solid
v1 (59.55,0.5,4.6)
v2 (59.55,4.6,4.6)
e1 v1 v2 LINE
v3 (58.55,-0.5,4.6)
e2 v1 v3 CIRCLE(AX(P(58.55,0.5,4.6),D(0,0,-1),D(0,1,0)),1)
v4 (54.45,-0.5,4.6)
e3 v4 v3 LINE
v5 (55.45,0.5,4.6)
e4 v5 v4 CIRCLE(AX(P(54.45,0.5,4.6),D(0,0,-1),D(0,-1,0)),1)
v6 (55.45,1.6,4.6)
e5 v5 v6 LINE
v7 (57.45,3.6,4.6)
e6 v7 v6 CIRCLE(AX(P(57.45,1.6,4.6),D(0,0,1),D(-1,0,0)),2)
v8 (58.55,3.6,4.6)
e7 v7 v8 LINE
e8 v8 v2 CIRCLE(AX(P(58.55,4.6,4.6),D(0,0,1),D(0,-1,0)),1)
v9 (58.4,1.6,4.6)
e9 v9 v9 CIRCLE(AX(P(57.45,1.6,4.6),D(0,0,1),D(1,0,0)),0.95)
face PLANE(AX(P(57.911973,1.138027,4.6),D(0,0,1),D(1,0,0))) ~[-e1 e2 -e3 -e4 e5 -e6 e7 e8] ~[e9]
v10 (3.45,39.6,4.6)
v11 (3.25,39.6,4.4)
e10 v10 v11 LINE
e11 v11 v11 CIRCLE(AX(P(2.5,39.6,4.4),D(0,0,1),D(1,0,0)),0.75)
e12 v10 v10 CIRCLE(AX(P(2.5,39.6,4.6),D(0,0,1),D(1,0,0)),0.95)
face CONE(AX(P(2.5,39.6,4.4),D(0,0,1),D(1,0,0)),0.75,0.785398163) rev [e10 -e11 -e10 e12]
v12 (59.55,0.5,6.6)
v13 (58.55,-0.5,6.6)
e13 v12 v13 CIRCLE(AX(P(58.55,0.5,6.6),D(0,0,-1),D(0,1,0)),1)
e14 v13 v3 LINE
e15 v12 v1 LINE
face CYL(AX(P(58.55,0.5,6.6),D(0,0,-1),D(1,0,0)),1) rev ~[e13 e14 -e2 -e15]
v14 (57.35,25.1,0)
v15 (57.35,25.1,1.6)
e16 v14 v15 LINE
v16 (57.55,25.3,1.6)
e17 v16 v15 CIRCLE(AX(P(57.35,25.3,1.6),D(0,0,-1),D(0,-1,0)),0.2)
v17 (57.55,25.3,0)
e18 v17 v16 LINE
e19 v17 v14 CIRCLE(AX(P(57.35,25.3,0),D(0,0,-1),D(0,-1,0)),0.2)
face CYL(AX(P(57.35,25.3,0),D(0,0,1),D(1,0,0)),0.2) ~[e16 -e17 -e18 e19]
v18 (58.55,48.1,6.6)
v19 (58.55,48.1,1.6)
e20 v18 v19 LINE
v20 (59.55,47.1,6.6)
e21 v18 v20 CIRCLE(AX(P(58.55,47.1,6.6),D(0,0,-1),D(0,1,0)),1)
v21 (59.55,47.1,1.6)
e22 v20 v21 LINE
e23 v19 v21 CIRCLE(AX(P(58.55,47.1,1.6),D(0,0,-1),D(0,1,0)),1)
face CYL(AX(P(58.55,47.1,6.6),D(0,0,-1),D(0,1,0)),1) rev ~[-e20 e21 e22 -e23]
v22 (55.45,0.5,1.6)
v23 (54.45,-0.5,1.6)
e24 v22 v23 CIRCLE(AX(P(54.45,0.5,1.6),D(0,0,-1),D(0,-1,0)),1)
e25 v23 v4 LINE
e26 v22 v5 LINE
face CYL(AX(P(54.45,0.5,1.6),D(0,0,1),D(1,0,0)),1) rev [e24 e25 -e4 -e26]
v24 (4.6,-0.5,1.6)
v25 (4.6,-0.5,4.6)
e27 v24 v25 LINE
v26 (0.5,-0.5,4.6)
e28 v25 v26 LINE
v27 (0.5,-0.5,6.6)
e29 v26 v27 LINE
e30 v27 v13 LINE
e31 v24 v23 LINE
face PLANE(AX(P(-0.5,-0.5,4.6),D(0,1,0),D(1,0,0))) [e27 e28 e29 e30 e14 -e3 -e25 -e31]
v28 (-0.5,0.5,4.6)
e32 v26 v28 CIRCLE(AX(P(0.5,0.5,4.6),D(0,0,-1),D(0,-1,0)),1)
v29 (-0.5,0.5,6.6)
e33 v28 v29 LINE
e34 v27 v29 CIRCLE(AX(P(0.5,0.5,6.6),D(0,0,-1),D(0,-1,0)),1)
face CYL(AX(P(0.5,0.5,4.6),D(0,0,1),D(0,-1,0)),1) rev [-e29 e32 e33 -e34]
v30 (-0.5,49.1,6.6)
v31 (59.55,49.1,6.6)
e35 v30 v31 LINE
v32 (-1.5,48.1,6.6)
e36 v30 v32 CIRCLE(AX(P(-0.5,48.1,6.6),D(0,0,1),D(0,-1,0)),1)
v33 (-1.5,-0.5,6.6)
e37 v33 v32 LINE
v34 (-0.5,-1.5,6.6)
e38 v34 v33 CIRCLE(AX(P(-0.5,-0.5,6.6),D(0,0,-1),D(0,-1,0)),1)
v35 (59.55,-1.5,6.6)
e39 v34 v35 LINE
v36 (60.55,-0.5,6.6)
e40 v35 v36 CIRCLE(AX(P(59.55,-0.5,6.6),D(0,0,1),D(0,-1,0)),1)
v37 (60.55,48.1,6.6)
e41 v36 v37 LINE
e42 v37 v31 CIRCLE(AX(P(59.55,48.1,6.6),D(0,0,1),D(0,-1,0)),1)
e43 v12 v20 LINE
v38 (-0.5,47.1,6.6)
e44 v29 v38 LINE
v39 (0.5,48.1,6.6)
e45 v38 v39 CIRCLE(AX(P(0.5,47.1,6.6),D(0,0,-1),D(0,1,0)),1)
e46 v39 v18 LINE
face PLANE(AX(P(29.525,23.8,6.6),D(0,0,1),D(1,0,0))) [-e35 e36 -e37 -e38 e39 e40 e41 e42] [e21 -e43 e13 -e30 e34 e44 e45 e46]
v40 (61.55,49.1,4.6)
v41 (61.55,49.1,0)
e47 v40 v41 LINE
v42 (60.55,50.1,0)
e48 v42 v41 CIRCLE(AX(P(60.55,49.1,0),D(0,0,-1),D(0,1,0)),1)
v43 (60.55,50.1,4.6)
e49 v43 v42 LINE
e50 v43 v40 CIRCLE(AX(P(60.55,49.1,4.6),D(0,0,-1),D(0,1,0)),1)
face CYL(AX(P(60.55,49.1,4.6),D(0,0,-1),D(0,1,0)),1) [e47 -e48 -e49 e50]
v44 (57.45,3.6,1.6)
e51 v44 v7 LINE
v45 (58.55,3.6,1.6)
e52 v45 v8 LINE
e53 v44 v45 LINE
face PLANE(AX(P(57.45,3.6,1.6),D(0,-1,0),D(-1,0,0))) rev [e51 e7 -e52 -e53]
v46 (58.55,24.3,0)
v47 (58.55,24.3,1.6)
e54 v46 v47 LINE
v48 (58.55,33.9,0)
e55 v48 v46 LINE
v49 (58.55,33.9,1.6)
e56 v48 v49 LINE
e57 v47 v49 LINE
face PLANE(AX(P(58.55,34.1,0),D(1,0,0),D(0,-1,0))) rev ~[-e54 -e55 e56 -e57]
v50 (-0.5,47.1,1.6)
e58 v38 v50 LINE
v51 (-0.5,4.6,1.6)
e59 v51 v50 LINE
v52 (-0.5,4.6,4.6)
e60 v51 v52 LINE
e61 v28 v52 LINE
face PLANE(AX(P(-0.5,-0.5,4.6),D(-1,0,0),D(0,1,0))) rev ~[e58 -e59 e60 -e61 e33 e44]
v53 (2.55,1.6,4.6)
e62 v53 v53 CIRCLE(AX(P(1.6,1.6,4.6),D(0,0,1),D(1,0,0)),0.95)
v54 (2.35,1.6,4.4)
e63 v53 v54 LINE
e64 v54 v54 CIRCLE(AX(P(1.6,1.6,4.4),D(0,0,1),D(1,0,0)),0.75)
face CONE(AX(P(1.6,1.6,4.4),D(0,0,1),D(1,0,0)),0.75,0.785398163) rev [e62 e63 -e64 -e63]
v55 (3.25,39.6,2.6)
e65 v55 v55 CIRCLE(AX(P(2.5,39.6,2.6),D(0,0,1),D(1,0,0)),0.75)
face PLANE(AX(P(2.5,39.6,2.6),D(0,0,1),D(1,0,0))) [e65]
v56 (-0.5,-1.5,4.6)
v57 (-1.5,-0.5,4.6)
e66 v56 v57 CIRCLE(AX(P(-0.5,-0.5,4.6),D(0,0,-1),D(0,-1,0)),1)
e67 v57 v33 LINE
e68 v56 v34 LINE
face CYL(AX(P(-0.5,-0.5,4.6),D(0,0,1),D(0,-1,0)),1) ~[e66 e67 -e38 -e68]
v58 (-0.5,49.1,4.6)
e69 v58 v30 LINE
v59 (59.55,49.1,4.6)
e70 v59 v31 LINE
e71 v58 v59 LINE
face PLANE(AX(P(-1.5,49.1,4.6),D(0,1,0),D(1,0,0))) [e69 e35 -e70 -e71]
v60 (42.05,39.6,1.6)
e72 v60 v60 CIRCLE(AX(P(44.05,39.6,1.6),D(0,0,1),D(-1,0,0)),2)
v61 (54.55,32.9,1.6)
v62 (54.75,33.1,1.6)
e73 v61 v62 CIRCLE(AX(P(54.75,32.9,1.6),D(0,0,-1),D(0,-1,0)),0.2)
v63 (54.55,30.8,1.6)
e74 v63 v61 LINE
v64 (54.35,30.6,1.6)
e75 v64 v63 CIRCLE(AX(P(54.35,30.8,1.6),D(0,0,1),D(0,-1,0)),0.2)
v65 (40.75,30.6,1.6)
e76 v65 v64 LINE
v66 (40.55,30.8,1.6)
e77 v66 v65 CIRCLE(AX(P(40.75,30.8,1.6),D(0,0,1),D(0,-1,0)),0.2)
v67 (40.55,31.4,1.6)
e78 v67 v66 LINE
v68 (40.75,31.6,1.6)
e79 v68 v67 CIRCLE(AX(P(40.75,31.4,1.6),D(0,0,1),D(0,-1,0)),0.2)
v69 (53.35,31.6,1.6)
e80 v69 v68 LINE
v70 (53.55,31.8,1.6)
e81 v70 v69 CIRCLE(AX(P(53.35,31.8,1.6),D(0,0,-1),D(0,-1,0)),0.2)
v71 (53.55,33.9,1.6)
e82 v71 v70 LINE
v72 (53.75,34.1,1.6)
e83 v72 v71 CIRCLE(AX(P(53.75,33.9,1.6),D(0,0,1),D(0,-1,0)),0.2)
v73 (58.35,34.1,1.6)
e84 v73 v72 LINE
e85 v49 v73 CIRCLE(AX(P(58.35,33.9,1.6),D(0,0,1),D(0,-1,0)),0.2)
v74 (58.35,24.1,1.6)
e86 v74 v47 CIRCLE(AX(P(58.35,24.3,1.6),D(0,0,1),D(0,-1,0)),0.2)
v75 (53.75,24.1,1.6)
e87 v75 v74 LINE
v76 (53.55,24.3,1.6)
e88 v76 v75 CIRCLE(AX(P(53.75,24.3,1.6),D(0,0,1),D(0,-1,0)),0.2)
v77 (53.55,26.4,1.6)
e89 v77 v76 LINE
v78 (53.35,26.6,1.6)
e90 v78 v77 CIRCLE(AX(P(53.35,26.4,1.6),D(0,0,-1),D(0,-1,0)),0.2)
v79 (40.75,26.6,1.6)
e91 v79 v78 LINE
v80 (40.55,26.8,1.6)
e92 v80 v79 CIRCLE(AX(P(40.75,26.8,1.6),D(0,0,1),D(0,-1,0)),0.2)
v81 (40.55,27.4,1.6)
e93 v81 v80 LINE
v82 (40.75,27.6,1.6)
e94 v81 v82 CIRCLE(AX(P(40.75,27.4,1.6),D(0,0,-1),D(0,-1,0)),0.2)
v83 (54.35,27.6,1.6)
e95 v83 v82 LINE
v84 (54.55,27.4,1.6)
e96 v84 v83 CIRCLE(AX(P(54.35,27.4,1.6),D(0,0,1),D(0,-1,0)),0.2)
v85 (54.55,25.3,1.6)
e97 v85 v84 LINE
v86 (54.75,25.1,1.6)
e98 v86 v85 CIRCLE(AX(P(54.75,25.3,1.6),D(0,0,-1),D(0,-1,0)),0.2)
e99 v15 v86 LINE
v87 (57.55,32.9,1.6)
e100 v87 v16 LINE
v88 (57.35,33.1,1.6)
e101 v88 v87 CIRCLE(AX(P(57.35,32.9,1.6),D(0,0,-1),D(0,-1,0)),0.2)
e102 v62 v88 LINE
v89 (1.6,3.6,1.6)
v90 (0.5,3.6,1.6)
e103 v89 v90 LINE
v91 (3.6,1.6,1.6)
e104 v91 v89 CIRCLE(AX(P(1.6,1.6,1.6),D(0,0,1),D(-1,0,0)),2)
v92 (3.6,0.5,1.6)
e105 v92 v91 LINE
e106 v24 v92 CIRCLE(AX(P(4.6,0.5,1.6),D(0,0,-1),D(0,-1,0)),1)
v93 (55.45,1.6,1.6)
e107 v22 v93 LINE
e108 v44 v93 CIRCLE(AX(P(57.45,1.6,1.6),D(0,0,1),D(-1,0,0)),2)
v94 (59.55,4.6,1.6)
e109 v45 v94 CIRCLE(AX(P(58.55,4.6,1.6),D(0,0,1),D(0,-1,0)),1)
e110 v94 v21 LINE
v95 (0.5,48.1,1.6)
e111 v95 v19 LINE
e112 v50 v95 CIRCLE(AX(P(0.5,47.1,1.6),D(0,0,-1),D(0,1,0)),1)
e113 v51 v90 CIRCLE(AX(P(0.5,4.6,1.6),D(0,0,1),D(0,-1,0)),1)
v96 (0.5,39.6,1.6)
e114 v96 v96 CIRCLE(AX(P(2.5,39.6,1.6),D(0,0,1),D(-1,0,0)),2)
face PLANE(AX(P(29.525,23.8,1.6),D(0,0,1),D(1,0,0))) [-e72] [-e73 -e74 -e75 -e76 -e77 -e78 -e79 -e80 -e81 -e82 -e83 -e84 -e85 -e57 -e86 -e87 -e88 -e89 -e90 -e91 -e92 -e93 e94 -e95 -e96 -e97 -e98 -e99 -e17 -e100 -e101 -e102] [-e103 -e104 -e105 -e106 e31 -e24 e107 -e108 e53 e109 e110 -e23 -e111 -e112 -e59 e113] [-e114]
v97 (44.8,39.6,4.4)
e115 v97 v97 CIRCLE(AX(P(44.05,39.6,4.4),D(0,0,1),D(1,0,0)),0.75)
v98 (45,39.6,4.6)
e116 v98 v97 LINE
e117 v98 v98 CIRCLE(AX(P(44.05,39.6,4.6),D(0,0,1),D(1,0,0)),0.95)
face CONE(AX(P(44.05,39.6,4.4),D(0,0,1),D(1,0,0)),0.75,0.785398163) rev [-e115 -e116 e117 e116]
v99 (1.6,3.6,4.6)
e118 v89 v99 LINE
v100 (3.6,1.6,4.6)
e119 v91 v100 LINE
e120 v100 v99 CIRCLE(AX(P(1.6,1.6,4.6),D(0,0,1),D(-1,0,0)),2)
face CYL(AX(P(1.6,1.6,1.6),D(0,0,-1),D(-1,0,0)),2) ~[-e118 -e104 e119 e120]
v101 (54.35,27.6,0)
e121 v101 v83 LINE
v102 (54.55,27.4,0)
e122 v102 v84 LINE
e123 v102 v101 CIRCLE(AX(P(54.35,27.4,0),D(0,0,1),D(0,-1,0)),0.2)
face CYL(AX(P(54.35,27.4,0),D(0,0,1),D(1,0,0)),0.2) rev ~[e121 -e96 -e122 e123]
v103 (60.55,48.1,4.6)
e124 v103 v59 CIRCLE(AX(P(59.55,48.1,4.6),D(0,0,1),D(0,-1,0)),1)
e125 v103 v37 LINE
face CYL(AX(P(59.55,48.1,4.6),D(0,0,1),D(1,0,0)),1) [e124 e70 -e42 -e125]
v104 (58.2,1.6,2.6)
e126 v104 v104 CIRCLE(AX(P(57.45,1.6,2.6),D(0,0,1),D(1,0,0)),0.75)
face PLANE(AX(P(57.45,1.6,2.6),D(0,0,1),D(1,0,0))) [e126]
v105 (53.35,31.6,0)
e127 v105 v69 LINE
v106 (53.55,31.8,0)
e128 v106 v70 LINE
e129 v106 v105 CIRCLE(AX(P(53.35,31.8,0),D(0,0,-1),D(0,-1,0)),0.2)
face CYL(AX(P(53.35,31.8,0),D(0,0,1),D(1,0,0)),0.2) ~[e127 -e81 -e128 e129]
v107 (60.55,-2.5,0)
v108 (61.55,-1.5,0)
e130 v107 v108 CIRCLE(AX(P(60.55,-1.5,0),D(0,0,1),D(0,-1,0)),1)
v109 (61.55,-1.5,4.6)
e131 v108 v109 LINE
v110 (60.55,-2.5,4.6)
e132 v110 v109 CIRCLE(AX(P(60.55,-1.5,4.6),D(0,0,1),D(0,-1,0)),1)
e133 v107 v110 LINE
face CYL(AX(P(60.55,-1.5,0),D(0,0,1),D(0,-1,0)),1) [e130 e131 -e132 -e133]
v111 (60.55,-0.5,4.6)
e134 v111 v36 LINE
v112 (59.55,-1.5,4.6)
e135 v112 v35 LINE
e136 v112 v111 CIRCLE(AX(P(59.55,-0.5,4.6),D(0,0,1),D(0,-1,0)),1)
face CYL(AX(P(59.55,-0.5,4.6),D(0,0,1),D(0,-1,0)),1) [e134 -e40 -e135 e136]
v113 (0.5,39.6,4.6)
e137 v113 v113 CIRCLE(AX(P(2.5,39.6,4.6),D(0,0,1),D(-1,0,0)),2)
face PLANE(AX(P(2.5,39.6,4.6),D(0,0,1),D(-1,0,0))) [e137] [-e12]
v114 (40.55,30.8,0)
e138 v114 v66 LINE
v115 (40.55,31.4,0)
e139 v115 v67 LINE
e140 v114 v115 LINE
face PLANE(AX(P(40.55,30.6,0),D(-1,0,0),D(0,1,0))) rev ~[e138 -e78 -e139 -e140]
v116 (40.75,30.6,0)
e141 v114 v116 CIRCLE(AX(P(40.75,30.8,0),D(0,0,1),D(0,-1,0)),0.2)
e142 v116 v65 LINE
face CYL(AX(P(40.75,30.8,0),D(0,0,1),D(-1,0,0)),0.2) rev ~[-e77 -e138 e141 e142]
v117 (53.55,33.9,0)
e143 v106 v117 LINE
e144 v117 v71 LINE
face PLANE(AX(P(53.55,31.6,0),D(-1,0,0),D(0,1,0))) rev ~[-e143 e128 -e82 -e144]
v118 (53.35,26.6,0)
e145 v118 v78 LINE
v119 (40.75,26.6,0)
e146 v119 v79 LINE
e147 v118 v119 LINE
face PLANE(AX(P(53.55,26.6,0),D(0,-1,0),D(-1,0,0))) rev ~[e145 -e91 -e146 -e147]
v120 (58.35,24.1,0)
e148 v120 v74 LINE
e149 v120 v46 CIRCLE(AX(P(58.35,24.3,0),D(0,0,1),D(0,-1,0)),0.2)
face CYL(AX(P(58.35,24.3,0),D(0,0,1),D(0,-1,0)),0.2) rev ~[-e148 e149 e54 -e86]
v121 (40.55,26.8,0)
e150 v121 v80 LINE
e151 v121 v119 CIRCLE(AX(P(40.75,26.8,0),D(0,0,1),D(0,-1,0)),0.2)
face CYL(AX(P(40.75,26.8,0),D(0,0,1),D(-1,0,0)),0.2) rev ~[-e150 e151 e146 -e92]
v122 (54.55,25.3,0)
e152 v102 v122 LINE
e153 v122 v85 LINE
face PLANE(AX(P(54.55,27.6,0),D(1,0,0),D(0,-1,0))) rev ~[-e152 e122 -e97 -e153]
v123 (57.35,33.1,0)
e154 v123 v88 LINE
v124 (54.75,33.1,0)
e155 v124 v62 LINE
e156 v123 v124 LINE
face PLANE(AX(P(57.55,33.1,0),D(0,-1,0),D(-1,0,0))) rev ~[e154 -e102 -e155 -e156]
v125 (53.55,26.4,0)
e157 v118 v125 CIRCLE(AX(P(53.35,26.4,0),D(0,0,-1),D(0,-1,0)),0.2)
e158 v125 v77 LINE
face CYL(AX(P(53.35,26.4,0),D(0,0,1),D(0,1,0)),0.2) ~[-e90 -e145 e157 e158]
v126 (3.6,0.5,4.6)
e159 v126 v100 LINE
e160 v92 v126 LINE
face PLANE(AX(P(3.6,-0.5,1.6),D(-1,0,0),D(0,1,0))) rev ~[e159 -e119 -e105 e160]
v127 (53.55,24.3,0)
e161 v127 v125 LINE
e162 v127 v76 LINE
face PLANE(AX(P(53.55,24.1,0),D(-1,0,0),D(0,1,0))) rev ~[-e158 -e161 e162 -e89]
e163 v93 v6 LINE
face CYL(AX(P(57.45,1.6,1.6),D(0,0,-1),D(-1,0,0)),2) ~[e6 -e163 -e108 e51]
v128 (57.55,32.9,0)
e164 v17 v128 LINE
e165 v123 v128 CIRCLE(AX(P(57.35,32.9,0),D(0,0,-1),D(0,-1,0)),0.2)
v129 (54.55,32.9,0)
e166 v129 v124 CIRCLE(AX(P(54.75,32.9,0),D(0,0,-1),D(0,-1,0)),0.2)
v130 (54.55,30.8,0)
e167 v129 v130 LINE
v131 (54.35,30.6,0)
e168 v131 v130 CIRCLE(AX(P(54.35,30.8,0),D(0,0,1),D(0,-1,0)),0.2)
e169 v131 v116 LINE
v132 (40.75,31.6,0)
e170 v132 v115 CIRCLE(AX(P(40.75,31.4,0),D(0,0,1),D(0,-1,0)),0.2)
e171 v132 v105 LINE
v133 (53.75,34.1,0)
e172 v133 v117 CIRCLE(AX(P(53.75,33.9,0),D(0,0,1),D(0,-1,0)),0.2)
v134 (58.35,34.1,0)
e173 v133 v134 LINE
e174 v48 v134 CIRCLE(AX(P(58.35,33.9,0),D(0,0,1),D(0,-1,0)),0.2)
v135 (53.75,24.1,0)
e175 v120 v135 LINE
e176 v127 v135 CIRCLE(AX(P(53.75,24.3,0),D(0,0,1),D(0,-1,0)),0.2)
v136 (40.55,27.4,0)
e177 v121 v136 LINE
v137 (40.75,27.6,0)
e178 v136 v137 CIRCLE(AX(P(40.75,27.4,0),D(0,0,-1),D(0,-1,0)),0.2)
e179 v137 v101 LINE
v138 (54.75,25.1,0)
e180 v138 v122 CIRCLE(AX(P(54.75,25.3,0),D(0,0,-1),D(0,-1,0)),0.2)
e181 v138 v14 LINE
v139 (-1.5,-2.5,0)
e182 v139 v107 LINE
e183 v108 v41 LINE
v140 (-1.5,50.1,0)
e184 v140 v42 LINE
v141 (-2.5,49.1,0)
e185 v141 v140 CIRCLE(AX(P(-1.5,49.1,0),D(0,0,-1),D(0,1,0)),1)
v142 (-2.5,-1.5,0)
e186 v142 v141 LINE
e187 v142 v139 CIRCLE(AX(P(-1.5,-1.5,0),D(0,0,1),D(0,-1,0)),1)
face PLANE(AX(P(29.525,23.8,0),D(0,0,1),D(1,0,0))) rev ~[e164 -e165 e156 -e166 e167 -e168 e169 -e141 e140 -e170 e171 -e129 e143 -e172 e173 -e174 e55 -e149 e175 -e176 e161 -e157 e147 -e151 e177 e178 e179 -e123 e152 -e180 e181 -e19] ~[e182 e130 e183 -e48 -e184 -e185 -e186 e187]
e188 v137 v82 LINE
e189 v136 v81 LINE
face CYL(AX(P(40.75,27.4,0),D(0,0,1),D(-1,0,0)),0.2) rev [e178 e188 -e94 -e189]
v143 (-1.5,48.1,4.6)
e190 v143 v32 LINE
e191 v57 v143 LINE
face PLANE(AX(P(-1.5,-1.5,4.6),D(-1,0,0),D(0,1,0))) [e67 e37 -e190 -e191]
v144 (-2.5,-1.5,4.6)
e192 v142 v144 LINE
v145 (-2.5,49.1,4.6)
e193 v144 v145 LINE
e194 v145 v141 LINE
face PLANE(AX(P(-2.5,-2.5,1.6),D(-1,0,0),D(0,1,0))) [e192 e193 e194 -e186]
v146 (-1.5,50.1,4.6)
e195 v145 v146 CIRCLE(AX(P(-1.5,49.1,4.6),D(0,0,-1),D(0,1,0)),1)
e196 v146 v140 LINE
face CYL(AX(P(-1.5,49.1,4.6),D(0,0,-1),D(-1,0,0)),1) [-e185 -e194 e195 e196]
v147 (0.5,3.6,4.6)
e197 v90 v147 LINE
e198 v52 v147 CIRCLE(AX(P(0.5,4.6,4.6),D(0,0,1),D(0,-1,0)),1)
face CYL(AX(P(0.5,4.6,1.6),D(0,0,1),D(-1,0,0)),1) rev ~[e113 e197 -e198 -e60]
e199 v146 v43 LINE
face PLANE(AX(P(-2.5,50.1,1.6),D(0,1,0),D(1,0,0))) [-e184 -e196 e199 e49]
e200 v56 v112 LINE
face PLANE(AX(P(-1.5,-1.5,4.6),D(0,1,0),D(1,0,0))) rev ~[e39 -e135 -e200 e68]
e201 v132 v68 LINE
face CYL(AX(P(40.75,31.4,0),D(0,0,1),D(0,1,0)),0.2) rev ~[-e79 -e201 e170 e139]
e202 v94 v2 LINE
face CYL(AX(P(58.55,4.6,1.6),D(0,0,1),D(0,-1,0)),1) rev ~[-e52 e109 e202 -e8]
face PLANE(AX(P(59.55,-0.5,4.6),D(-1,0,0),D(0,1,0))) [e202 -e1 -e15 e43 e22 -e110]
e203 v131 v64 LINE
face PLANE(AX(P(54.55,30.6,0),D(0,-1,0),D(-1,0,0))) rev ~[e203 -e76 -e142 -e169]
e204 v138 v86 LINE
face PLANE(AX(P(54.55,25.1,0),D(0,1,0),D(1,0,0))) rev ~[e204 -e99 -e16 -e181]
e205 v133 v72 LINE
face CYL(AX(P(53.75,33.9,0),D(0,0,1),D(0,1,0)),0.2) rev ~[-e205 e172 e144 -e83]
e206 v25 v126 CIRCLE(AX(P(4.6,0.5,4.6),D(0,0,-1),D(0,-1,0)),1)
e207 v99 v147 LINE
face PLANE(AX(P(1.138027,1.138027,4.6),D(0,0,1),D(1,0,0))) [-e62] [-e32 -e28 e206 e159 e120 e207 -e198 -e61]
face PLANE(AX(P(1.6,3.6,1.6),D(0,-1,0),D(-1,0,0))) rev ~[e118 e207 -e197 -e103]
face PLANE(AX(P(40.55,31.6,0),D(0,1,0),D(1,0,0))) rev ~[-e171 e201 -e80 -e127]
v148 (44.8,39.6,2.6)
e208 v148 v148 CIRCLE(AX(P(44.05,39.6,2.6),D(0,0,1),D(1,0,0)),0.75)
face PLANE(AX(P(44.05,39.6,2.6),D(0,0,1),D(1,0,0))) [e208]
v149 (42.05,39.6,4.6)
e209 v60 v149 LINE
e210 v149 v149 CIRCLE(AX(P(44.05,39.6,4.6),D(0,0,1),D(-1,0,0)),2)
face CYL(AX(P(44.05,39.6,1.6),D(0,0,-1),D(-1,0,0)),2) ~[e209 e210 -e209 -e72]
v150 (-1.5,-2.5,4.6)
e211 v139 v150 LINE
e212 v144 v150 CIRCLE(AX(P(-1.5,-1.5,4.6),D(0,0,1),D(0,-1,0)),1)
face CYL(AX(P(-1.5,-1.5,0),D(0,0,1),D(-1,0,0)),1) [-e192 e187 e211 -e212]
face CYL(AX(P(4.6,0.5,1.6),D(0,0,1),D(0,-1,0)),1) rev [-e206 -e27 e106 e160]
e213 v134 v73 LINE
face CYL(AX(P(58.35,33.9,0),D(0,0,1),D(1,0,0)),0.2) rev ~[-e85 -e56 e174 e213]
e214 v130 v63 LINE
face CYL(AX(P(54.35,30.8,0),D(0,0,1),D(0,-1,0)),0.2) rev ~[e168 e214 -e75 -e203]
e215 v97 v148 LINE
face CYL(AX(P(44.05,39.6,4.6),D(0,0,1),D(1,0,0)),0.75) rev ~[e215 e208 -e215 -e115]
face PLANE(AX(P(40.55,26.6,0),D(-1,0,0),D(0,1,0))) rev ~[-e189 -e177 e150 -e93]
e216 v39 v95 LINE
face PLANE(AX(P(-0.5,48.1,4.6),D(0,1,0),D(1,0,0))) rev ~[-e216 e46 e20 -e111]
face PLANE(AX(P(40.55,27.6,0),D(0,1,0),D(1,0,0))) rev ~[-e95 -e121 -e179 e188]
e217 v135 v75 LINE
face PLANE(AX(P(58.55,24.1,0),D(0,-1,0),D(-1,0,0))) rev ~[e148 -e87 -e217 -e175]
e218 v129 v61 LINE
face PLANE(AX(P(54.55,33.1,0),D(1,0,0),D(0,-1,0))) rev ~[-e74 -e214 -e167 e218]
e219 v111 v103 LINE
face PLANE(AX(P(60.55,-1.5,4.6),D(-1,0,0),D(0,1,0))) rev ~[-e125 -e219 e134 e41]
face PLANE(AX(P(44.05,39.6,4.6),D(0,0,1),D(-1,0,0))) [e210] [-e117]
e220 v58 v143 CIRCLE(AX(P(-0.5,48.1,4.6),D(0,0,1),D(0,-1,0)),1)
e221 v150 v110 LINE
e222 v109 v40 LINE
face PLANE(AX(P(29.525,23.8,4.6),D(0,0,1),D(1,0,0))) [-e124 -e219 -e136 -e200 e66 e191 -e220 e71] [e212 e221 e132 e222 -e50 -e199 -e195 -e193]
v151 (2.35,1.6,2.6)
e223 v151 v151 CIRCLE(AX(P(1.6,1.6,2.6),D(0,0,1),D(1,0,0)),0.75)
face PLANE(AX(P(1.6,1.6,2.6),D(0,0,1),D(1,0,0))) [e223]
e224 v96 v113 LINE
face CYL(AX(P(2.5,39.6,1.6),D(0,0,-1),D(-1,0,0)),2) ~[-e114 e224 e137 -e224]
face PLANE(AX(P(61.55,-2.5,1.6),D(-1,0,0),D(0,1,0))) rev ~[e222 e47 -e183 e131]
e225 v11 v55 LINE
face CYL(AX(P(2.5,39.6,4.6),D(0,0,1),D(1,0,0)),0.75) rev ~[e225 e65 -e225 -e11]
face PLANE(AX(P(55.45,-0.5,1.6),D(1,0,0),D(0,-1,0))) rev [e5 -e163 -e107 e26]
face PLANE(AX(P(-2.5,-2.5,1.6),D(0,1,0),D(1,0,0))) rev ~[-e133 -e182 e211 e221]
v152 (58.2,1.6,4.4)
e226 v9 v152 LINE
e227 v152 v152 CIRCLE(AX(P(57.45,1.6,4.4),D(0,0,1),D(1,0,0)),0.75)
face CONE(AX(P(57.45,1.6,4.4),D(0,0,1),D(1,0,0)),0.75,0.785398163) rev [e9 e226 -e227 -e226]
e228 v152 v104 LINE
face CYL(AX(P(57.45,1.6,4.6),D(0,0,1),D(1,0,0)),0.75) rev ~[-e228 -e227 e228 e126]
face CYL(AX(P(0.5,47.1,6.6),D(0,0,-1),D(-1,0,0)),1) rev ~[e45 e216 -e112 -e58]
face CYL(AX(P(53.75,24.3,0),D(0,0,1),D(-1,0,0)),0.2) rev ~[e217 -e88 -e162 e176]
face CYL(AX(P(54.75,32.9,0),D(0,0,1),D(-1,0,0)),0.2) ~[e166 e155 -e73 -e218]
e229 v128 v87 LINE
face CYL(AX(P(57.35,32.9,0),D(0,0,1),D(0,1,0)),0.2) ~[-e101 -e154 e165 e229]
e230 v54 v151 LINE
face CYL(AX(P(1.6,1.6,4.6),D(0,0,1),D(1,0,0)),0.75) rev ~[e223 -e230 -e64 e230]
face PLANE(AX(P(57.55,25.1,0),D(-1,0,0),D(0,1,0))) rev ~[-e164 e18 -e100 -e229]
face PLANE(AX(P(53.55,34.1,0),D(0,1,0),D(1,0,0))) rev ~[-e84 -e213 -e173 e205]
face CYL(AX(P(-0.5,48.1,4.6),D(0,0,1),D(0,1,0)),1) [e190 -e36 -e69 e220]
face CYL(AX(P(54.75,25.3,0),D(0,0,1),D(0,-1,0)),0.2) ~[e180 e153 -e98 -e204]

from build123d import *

# Parameters (mm, degrees)
SKETCH1_W           = 64.05
SKETCH1_H           = 52.6
BOSS_EXTRUDE1_DEPTH = 1.6
SKETCH2_W           = 64.05
SKETCH2_H           = 52.6
SKETCH2_W_2         = 60.05
SKETCH2_H_2         = 48.6
BOSS_EXTRUDE2_DEPTH = 3
SKETCH6_W           = 62.05
SKETCH6_H           = 50.6
SKETCH6_W_2         = 60.05
SKETCH6_H_2         = 48.6
BOSS_EXTRUDE6_DEPTH = 2
CUT_EXTRUDE2_DEPTH  = 2
FILLET2_R           = 0.2
SKETCH11_R          = 2
BOSS_EXTRUDE7_DEPTH = 3
SKETCH12_R          = 0.75
CUT_EXTRUDE3_DEPTH  = 2
FILLET4_R           = 1
BOSS_EXTRUDE8_DEPTH = 3
FILLET5_R           = 1
CHAMFER2_SIZE       = 0.2


with BuildPart() as part:
    # Sketch1 → Boss-Extrude1 (new body)
    with BuildSketch(Plane.XY):
        with Locations((29.525, 23.8)):
            Rectangle(SKETCH1_W, SKETCH1_H)
    extrude(amount=BOSS_EXTRUDE1_DEPTH)

    # Sketch2 → Boss-Extrude2 (add)
    with BuildSketch(Plane.XY.offset(1.6)):
        with Locations((29.525, 23.8)):
            Rectangle(SKETCH2_W, SKETCH2_H)
        with Locations((29.525, 23.8)):
            Rectangle(SKETCH2_W_2, SKETCH2_H_2, mode=Mode.SUBTRACT)
    extrude(amount=BOSS_EXTRUDE2_DEPTH)

    # Sketch6 → Boss-Extrude6 (add)
    with BuildSketch(Plane.XY.offset(4.6)):
        with Locations((29.525, 23.8)):
            Rectangle(SKETCH6_W, SKETCH6_H)
        with Locations((29.525, 23.8)):
            Rectangle(SKETCH6_W_2, SKETCH6_H_2, mode=Mode.SUBTRACT)
    extrude(amount=BOSS_EXTRUDE6_DEPTH)

    # Sketch9 → Cut-Extrude2 (cut)
    with BuildSketch(Plane(origin=(0, 0, 0), x_dir=(-1, 0, 0), z_dir=(0, 0, -1))):
        Polygon((-40.55, 27.6), (-54.55, 27.6), (-54.55, 25.1), (-57.55, 25.1), (-57.55, 33.1), (-54.55, 33.1), (-54.55, 30.6), (-40.55, 30.6), (-40.55, 31.6), (-53.55, 31.6), (-53.55, 34.1), (-58.55, 34.1), (-58.55, 24.1), (-53.55, 24.1), (-53.55, 26.6), (-40.55, 26.6), align=None)
    extrude(amount=-CUT_EXTRUDE2_DEPTH, mode=Mode.SUBTRACT)

    # Fillet2
    fillet2_edges = [part.edges().sort_by_distance(p)[0] for p in [
        (40.55, 27.6, 0.8),
        (40.55, 26.6, 0.8),
        (53.55, 26.6, 0.8),
        (53.55, 24.1, 0.8),
        (58.55, 24.1, 0.8),
        (58.55, 34.1, 0.8),
        (53.55, 34.1, 0.8),
        (53.55, 31.6, 0.8),
        (40.55, 31.6, 0.8),
        (40.55, 30.6, 0.8),
        (54.55, 30.6, 0.8),
        (54.55, 33.1, 0.8),
        (57.55, 33.1, 0.8),
        (57.55, 25.1, 0.8),
        (54.55, 25.1, 0.8),
        (54.55, 27.6, 0.8),
    ]]
    fillet(fillet2_edges, radius=FILLET2_R)

    # Sketch11 → Boss-Extrude7 (add)
    with BuildSketch(Plane.XY.offset(1.6)):
        with Locations(Location((1.6, 1.6, 0), (0, 0, 180))):
            Circle(SKETCH11_R)
        with Locations(Location((57.45, 1.6, 0), (0, 0, 180))):
            Circle(SKETCH11_R)
        with Locations(Location((44.05, 39.6, 0), (0, 0, 180))):
            Circle(SKETCH11_R)
        with Locations(Location((2.5, 39.6, 0), (0, 0, 180))):
            Circle(SKETCH11_R)
    extrude(amount=BOSS_EXTRUDE7_DEPTH)

    # Sketch12 → Cut-Extrude3 (cut)
    with BuildSketch(Plane.XY.offset(4.6)):
        with Locations((2.5, 39.6)):
            Circle(SKETCH12_R)
        with Locations((1.6, 1.6)):
            Circle(SKETCH12_R)
        with Locations((57.45, 1.6)):
            Circle(SKETCH12_R)
        with Locations((44.05, 39.6)):
            Circle(SKETCH12_R)
    extrude(amount=-CUT_EXTRUDE3_DEPTH, mode=Mode.SUBTRACT)

    # Fillet4
    fillet4_edges = [part.edges().sort_by_distance(p)[0] for p in [
        (59.55, 48.1, 4.1),
        (-0.5, 48.1, 4.1),
        (-1.5, -1.5, 5.6),
        (60.55, -1.5, 5.6),
        (60.55, 49.1, 5.6),
        (-1.5, 49.1, 5.6),
        (-2.5, 50.1, 2.3),
        (61.55, 50.1, 2.3),
        (61.55, -2.5, 2.3),
        (-2.5, -2.5, 2.3),
    ]]
    fillet(fillet4_edges, radius=FILLET4_R)

    # Sketch13 → Boss-Extrude8 (add)
    with BuildSketch(Plane.XY.offset(1.6)):
        with BuildLine():
            Line((1.6, 3.6), (-0.5, 3.6))
            Line((-0.5, 3.6), (-0.5, -0.5))
            Line((-0.5, -0.5), (3.6, -0.5))
            Line((3.6, -0.5), (3.6, 1.6))
            ThreePointArc((3.6, 1.6), (0.185786438, 0.185786438), (1.6, 3.6))
        make_face()
    boss_extrude8 = extrude(amount=BOSS_EXTRUDE8_DEPTH)

    # Mirror1: Boss-Extrude8 across plane
    add(boss_extrude8.mirror(Plane(origin=(29.525, 0, 0), x_dir=(0, 0, 1), z_dir=(1, 0, 0))))

    # Fillet5
    fillet5_edges = [part.edges().sort_by_distance(p)[0] for p in [
        (-0.5, -0.5, 5.6),
        (59.55, -0.5, 5.6),
        (-0.5, 3.6, 3.1),
        (3.6, -0.5, 3.1),
        (59.55, 3.6, 3.1),
        (55.45, -0.5, 3.1),
    ]]
    fillet(fillet5_edges, radius=FILLET5_R)

    # Chamfer2
    chamfer2_edges = [part.edges().sort_by_distance(p)[0] for p in [
        (1.75, 39.6, 4.6),
        (0.85, 1.6, 4.6),
        (56.7, 1.6, 4.6),
        (43.3, 39.6, 4.6),
    ]]
    chamfer(chamfer2_edges, length=CHAMFER2_SIZE)


solid = part.part
